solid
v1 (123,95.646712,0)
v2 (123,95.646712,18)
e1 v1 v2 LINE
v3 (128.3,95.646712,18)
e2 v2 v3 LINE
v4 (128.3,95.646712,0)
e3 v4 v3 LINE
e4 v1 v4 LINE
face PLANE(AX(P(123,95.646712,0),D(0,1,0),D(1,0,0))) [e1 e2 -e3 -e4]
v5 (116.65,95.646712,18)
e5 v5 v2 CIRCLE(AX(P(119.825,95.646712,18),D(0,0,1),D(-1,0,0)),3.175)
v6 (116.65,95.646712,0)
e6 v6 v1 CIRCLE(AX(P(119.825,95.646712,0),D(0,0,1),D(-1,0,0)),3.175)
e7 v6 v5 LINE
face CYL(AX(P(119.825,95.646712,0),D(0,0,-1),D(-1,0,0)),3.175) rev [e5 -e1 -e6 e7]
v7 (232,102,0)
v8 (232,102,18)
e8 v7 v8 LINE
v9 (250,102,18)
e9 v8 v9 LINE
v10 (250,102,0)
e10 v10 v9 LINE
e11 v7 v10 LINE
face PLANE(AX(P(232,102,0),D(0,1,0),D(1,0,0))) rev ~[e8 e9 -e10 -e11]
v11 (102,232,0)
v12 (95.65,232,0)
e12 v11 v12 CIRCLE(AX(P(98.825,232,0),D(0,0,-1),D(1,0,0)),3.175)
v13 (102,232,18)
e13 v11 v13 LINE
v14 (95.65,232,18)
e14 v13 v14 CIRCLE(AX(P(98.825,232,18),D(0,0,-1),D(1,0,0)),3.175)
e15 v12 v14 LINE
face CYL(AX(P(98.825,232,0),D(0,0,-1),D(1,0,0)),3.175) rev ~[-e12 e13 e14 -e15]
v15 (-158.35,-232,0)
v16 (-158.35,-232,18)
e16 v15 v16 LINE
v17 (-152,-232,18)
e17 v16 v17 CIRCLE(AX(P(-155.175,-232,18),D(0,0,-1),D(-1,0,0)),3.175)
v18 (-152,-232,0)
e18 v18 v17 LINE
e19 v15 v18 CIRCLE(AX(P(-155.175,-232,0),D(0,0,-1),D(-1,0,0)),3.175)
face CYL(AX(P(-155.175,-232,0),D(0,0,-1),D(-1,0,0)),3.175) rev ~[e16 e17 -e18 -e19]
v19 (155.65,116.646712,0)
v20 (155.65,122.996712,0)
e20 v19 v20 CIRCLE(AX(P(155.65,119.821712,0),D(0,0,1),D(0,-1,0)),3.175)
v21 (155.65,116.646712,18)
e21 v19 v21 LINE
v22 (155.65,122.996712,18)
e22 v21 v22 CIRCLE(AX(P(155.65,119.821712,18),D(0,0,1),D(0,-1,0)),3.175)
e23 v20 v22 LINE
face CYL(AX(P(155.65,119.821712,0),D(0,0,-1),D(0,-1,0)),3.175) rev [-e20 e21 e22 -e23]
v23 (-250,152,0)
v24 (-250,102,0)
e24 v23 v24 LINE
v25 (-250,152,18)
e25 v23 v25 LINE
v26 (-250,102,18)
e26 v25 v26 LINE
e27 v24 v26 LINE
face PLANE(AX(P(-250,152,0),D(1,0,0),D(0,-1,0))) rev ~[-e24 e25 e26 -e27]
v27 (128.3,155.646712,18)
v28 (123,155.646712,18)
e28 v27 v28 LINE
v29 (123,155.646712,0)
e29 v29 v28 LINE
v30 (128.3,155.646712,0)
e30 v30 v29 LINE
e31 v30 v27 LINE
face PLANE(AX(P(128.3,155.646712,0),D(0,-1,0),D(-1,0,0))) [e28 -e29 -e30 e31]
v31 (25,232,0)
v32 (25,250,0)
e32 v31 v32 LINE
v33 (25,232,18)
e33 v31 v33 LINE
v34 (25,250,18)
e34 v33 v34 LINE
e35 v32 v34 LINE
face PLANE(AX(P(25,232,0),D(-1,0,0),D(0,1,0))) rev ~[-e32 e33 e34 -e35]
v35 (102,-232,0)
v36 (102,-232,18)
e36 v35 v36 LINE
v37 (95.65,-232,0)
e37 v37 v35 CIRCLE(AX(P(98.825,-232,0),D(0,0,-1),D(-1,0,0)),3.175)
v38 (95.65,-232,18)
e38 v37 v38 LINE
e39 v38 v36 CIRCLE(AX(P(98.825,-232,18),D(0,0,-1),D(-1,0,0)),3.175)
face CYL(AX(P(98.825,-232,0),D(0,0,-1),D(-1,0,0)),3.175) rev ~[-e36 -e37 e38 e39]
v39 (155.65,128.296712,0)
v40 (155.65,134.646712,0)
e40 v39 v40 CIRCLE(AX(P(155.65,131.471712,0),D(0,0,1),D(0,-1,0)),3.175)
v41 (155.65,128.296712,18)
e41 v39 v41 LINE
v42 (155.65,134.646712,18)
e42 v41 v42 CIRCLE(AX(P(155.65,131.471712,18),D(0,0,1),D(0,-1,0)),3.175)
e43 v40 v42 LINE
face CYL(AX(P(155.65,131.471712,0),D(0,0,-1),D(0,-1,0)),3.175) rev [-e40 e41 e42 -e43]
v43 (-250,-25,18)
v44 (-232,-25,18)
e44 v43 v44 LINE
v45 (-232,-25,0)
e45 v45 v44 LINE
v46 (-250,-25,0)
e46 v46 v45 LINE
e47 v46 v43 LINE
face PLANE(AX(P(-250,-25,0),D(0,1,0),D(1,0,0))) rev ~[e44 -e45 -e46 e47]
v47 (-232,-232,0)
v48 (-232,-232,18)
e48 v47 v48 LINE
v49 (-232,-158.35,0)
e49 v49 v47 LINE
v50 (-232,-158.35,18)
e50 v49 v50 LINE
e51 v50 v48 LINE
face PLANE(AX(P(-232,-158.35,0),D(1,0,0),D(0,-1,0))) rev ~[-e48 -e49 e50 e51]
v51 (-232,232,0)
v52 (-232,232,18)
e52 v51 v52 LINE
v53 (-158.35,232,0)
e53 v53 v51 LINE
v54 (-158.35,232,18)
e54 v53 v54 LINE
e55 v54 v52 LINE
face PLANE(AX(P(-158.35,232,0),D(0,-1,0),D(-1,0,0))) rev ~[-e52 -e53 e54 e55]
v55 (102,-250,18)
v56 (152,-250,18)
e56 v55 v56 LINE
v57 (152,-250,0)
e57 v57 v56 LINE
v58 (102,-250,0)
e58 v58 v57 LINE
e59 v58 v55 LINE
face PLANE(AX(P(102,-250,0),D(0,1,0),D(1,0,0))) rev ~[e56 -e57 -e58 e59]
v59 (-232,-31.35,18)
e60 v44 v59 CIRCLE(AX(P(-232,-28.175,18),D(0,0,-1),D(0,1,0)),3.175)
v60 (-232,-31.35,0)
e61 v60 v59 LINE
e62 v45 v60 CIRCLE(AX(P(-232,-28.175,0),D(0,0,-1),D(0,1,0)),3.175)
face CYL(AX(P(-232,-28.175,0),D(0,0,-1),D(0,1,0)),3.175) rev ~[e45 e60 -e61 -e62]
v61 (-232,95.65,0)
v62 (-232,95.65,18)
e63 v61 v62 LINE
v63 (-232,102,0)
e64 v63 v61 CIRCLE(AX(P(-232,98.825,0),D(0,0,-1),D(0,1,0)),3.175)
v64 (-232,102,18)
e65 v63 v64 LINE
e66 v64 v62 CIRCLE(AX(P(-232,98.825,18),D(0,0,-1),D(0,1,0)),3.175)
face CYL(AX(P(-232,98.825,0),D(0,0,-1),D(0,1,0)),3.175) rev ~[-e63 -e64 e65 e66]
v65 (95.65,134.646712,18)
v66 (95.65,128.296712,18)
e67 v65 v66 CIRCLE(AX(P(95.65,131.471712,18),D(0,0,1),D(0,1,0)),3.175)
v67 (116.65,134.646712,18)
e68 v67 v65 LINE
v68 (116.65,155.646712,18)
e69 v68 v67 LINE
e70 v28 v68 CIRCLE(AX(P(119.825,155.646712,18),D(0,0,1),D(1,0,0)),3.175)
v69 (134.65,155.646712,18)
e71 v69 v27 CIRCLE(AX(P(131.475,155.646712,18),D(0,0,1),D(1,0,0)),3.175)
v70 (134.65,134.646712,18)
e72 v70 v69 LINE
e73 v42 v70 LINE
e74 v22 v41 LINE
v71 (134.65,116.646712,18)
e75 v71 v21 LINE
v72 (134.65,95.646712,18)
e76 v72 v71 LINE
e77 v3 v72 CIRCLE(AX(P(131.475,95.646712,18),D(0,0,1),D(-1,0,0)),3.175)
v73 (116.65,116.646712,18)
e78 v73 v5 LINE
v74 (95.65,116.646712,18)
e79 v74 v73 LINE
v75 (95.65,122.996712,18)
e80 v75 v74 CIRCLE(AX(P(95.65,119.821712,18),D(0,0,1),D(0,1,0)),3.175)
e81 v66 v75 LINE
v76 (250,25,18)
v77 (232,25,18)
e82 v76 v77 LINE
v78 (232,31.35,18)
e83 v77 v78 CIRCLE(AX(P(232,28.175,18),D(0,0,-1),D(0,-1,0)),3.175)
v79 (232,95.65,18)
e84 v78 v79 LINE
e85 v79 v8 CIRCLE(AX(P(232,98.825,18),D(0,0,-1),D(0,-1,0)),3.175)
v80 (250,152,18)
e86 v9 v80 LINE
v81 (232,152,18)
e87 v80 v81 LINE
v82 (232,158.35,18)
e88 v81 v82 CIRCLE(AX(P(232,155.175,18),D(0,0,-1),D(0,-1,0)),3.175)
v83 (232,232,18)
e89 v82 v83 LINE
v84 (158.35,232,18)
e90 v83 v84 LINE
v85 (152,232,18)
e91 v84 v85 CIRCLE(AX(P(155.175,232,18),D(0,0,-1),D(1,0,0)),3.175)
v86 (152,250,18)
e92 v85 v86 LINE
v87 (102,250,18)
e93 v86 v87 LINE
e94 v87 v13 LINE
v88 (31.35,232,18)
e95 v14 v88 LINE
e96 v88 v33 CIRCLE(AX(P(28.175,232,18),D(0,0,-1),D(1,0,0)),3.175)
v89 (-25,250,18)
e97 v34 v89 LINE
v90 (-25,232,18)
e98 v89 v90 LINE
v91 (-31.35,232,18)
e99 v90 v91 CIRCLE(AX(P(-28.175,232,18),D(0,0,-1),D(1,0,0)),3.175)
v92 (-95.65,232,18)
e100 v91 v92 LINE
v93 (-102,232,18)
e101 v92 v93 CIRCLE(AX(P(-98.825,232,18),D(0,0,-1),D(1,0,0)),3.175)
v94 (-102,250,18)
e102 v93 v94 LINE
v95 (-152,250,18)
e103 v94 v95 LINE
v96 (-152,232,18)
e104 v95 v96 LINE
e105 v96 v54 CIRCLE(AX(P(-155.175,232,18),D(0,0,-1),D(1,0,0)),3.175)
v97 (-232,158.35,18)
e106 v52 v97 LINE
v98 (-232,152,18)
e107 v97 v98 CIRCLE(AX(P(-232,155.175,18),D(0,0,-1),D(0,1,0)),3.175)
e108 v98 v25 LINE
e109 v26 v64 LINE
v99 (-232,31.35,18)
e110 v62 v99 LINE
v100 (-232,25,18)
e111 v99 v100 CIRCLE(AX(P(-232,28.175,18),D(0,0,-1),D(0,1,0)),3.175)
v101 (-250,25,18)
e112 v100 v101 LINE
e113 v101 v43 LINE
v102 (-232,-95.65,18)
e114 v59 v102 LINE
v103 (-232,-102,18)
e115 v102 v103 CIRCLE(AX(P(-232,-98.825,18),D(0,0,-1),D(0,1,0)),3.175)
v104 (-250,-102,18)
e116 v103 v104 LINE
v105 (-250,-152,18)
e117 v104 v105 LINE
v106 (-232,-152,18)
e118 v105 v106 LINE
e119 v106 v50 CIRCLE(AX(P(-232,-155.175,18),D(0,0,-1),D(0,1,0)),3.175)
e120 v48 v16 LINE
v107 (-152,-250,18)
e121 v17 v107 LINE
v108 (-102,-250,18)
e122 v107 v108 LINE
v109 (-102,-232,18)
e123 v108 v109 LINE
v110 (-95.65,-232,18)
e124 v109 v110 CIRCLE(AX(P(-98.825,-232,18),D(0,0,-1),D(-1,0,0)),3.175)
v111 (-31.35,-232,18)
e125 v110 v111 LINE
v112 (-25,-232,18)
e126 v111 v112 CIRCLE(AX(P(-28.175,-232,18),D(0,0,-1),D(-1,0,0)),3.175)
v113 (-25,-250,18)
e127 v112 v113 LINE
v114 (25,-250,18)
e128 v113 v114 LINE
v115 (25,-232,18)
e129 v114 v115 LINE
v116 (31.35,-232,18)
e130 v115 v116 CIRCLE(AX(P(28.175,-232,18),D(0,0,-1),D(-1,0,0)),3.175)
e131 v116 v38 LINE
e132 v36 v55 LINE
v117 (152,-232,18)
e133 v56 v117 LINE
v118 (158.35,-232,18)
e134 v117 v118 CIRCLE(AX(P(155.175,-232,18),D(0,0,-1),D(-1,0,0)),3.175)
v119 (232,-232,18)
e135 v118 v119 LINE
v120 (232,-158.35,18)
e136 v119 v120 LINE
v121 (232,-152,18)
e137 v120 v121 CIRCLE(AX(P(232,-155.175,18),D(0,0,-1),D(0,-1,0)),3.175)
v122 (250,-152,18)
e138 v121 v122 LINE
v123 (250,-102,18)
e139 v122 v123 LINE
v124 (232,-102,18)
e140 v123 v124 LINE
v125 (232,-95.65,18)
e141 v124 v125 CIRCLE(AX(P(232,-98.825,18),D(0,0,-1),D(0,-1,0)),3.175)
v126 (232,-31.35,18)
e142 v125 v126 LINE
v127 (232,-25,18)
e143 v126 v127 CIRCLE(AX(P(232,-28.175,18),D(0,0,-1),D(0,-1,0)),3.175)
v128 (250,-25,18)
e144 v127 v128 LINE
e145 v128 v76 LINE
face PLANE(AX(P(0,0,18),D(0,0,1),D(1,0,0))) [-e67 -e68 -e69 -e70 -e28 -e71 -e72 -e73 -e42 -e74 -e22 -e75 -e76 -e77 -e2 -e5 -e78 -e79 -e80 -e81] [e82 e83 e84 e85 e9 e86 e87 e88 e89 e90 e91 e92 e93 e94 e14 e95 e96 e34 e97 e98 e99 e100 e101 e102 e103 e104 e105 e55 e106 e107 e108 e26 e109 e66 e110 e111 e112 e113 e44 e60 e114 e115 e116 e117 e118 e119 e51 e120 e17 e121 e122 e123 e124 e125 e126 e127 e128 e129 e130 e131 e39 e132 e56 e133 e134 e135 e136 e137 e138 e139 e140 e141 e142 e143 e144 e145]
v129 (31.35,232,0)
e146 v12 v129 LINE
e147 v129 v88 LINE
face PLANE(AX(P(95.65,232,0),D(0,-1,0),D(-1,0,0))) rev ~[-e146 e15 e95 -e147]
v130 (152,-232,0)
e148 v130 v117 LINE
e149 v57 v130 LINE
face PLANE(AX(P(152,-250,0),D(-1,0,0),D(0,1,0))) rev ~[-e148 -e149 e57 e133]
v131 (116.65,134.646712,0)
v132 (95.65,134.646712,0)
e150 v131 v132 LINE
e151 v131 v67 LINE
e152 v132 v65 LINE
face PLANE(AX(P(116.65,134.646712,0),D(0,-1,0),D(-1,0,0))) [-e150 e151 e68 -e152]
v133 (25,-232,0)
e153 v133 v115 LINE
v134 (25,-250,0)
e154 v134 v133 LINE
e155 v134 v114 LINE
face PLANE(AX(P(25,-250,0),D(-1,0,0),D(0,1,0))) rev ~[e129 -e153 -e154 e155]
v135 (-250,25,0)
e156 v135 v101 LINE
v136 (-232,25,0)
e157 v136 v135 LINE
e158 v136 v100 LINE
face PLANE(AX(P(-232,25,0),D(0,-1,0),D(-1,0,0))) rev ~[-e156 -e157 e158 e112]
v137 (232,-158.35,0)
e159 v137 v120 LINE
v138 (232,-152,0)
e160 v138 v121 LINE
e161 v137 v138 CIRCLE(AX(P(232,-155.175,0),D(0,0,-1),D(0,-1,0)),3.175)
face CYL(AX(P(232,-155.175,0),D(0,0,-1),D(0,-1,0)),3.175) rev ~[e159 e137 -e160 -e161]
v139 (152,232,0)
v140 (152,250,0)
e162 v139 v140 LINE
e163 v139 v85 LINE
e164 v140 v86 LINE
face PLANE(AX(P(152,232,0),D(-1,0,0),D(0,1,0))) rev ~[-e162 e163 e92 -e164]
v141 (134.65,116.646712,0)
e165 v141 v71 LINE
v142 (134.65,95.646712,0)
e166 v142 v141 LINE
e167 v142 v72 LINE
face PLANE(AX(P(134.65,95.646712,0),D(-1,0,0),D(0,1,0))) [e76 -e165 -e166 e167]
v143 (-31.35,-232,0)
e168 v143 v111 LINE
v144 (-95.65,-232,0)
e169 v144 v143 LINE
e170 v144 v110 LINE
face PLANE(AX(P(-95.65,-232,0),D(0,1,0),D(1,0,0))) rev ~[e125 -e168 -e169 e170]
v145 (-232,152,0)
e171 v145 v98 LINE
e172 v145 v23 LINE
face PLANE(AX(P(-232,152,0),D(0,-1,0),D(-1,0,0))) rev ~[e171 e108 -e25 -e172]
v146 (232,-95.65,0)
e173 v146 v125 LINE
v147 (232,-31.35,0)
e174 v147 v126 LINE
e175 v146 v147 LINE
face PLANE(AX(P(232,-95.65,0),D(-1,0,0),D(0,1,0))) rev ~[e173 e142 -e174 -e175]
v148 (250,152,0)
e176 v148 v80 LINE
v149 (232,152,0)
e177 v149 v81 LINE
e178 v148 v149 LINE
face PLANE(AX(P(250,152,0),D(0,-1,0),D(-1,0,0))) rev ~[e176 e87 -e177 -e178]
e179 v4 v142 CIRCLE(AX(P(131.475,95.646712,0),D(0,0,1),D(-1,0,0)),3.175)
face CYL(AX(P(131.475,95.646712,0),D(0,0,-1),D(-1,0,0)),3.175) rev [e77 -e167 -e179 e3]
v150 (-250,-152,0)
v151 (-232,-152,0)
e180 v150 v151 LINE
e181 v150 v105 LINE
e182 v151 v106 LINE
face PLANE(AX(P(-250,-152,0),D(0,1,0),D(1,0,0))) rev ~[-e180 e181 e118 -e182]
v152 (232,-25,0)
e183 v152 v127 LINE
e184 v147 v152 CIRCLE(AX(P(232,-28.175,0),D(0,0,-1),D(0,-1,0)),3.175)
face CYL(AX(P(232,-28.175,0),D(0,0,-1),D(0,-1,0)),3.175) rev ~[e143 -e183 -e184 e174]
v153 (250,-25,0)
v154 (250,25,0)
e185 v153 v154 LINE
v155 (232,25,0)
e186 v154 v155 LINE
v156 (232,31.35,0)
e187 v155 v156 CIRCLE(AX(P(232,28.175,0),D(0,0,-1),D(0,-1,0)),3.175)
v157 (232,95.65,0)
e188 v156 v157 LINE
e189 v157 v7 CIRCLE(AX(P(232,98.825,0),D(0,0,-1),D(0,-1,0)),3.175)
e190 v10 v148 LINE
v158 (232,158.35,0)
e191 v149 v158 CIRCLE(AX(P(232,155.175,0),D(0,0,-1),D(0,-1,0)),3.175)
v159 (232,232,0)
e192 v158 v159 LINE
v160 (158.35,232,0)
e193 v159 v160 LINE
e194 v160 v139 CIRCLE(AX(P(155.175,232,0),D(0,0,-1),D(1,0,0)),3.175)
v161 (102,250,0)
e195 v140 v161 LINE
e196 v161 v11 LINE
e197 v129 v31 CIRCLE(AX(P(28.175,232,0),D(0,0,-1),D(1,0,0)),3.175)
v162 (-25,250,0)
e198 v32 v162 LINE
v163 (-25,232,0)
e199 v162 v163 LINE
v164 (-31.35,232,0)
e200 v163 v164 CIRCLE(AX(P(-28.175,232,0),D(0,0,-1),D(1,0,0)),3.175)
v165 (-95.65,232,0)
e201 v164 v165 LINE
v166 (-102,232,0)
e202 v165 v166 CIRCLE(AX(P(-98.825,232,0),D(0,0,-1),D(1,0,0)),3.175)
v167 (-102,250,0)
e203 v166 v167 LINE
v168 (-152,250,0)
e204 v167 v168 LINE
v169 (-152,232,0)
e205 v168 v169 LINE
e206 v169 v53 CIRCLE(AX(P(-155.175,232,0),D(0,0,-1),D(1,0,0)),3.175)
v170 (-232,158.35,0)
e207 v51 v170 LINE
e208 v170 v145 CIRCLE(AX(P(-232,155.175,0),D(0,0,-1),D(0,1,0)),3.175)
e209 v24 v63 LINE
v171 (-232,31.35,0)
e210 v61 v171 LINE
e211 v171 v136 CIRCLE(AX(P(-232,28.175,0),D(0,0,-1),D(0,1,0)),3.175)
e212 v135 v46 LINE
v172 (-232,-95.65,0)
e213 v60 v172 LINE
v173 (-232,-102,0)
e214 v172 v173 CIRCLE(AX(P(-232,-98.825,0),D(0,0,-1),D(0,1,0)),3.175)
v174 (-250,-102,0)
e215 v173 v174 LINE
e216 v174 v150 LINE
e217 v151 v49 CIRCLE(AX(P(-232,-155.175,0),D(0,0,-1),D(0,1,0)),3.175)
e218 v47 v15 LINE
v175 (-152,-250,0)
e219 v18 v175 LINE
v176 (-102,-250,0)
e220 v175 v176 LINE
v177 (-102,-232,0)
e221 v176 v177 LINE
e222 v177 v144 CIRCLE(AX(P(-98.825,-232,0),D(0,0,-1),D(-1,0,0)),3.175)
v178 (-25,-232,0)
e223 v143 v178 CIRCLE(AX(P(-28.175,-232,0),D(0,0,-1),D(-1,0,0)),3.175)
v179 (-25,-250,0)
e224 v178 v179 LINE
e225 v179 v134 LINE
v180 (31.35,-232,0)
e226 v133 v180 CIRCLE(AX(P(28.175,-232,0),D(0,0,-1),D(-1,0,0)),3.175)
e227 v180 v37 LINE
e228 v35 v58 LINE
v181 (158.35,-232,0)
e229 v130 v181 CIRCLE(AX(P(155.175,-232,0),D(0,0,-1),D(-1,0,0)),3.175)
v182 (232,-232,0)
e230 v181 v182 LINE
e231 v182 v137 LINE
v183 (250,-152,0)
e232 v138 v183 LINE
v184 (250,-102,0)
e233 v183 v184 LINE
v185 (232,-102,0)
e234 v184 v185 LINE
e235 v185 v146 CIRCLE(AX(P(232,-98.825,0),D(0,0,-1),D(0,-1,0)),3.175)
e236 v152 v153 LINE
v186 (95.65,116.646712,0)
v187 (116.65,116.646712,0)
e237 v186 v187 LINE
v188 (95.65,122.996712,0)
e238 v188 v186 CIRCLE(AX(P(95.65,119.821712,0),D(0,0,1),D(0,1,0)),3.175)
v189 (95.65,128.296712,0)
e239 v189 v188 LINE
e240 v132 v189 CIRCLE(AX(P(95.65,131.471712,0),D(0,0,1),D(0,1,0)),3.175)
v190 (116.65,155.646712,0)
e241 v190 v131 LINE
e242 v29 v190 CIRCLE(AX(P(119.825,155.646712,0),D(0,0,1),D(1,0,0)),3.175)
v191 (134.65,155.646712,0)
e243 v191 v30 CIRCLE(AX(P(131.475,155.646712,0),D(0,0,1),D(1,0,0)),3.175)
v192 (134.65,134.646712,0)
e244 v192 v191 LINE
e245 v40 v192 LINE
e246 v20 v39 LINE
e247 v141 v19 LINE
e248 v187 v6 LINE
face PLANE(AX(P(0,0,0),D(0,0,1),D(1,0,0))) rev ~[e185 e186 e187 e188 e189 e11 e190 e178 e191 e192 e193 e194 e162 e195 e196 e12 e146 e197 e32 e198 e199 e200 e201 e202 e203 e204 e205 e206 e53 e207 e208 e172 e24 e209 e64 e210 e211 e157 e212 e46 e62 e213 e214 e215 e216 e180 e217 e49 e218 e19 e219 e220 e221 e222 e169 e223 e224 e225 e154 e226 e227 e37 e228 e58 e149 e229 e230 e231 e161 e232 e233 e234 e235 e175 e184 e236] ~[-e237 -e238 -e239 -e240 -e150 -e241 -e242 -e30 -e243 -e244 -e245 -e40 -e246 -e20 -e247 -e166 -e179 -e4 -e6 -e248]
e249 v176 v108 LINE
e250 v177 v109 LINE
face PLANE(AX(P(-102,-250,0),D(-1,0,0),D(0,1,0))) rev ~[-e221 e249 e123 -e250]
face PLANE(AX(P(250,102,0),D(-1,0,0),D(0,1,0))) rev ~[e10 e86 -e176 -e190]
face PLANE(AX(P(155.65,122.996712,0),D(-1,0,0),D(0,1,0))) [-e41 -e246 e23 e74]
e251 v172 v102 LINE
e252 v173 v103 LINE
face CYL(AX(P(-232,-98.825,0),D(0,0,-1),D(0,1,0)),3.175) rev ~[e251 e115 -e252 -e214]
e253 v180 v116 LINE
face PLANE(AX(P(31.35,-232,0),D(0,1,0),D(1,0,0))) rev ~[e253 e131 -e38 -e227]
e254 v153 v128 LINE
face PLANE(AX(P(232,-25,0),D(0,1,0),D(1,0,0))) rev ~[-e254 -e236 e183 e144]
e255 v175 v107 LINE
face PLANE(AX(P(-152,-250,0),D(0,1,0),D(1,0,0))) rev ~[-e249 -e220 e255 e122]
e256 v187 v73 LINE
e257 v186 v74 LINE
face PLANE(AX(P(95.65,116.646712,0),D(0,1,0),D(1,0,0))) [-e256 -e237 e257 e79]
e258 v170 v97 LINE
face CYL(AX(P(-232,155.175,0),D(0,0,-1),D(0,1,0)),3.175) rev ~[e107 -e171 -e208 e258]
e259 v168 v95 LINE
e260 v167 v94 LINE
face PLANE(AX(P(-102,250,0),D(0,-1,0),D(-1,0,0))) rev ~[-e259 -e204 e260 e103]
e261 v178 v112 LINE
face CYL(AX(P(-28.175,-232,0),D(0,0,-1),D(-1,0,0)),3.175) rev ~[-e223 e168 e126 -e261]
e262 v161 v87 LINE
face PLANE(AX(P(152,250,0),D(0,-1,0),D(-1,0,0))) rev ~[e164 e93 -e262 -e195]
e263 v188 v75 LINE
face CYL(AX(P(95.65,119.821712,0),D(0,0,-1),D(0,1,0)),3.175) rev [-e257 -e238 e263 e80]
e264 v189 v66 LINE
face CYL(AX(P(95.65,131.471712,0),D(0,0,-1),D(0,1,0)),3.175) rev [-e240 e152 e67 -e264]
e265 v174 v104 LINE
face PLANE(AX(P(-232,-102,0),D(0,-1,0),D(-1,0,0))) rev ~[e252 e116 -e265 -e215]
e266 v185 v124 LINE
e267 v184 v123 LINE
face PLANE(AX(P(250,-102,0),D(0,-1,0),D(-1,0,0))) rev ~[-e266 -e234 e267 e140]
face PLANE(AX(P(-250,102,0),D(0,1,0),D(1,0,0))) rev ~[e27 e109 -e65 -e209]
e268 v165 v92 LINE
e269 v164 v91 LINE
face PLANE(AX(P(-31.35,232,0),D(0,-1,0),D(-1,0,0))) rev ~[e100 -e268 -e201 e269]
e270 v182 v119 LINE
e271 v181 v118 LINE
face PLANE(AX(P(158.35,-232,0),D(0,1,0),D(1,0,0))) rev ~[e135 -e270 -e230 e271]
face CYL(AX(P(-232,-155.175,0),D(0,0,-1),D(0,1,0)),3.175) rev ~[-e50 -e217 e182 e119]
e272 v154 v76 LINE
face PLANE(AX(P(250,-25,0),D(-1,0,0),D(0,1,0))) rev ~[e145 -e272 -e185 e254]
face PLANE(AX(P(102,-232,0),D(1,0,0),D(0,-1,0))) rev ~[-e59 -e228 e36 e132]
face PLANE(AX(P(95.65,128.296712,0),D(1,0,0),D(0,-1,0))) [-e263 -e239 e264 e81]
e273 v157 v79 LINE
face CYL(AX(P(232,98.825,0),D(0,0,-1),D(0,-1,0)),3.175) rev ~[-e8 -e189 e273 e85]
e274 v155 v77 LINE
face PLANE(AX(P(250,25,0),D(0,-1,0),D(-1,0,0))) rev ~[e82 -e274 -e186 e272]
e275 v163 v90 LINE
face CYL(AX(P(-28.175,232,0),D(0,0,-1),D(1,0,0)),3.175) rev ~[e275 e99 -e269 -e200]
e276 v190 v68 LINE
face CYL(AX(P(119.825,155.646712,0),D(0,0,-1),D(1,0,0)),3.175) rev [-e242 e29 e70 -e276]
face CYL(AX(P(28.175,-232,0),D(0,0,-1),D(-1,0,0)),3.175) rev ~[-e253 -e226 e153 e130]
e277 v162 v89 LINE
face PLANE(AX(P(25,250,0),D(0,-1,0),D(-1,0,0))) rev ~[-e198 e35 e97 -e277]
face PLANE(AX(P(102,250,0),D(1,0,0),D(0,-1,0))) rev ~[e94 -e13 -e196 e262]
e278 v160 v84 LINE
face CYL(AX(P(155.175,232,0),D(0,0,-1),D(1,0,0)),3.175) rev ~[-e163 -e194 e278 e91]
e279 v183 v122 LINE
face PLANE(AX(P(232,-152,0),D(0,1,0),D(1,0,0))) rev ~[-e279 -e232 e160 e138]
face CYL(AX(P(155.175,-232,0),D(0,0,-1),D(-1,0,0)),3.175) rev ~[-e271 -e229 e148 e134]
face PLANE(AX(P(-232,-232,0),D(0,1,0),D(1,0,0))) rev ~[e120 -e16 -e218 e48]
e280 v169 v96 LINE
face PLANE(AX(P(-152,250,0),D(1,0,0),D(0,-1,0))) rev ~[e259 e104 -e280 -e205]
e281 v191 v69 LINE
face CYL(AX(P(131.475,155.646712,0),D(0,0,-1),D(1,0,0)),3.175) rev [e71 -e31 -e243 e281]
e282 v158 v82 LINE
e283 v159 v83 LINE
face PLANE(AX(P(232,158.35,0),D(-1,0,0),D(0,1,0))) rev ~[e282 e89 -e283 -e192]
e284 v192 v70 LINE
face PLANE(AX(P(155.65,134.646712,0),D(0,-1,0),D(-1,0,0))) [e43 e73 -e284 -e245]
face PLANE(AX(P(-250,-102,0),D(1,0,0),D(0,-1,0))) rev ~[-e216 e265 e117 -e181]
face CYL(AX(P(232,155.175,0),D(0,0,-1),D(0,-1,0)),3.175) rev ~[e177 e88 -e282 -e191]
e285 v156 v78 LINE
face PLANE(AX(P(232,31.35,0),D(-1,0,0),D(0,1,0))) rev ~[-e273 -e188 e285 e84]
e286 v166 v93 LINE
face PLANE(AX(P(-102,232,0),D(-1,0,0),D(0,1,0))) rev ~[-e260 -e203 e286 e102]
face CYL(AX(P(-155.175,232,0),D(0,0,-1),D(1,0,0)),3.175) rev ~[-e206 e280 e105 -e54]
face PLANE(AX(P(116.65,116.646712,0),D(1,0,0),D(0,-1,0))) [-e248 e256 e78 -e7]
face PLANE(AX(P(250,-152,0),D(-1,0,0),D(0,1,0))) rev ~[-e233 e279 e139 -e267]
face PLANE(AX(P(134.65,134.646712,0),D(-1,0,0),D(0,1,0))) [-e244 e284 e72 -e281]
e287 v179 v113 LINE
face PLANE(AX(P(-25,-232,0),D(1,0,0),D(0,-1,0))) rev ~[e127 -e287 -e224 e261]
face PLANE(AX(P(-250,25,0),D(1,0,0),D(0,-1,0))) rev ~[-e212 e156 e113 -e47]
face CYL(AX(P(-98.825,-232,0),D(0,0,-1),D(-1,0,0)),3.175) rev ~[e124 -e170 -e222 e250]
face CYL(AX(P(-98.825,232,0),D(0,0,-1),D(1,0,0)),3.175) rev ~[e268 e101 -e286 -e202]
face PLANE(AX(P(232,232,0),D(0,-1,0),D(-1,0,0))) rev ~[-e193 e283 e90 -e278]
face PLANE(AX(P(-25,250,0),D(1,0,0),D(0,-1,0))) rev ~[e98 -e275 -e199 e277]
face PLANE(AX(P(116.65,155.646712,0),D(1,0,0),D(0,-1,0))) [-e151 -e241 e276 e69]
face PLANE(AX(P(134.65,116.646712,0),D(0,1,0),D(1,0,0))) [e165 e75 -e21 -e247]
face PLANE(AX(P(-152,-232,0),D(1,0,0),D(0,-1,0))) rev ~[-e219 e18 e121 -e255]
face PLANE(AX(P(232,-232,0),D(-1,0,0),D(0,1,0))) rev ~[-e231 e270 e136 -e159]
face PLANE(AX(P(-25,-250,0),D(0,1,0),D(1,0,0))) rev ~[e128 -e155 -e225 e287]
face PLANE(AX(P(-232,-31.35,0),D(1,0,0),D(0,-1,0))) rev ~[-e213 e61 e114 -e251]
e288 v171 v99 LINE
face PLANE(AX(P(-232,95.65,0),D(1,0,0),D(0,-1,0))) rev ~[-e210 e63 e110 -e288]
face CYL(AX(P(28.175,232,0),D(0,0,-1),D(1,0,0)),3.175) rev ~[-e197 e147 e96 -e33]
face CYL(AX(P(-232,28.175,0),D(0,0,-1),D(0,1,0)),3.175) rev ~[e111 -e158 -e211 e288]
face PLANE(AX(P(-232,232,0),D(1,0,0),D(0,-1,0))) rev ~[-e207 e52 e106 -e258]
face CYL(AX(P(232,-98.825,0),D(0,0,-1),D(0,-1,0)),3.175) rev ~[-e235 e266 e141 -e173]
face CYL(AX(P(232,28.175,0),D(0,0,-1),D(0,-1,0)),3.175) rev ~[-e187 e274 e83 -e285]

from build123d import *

# Parameters (mm, degrees)
ESTRUSIONE_ESTRUSIONE1_DEPTH = 18


with BuildPart() as part:
    # Schizzo1 → Estrusione-Estrusione1 (new body)
    with BuildSketch(Plane.XY):
        with BuildLine():
            Line((-152, 250), (-152, 232))
            ThreePointArc((-152, 232), (-155.175, 228.825), (-158.35, 232))
            Line((-158.35, 232), (-232, 232))
            Line((-232, 232), (-232, 158.35))
            ThreePointArc((-232, 158.35), (-228.825, 155.175), (-232, 152))
            Line((-232, 152), (-250, 152))
            Line((-250, 152), (-250, 102))
            Line((-250, 102), (-232, 102))
            ThreePointArc((-232, 102), (-228.825, 98.825), (-232, 95.65))
            Line((-232, 95.65), (-232, 31.35))
            ThreePointArc((-232, 31.35), (-228.825, 28.175), (-232, 25))
            Line((-232, 25), (-250, 25))
            Line((-250, 25), (-250, -25))
            Line((-250, -25), (-232, -25))
            ThreePointArc((-232, -25), (-228.825, -28.175), (-232, -31.35))
            Line((-232, -31.35), (-232, -95.65))
            ThreePointArc((-232, -95.65), (-228.825, -98.825), (-232, -102))
            Line((-232, -102), (-250, -102))
            Line((-250, -102), (-250, -152))
            Line((-250, -152), (-232, -152))
            ThreePointArc((-232, -152), (-228.825, -155.175), (-232, -158.35))
            Line((-232, -158.35), (-232, -232))
            Line((-232, -232), (-158.35, -232))
            ThreePointArc((-158.35, -232), (-155.175, -228.825), (-152, -232))
            Line((-152, -232), (-152, -250))
            Line((-152, -250), (-102, -250))
            Line((-102, -250), (-102, -232))
            ThreePointArc((-102, -232), (-98.825, -228.825), (-95.65, -232))
            Line((-95.65, -232), (-31.35, -232))
            ThreePointArc((-31.35, -232), (-28.175, -228.825), (-25, -232))
            Line((-25, -232), (-25, -250))
            Line((-25, -250), (25, -250))
            Line((25, -250), (25, -232))
            ThreePointArc((25, -232), (28.175, -228.825), (31.35, -232))
            Line((31.35, -232), (95.65, -232))
            ThreePointArc((95.65, -232), (98.825, -228.825), (102, -232))
            Line((102, -232), (102, -250))
            Line((102, -250), (152, -250))
            Line((152, -250), (152, -232))
            ThreePointArc((152, -232), (155.175, -228.825), (158.35, -232))
            Line((158.35, -232), (232, -232))
            Line((232, -232), (232, -158.35))
            ThreePointArc((232, -158.35), (228.825, -155.175), (232, -152))
            Line((232, -152), (250, -152))
            Line((250, -152), (250, -102))
            Line((250, -102), (232, -102))
            ThreePointArc((232, -102), (228.825, -98.825), (232, -95.65))
            Line((232, -95.65), (232, -31.35))
            ThreePointArc((232, -31.35), (228.825, -28.175), (232, -25))
            Line((232, -25), (250, -25))
            Line((250, -25), (250, 25))
            Line((250, 25), (232, 25))
            ThreePointArc((232, 25), (228.825, 28.175), (232, 31.35))
            Line((232, 31.35), (232, 95.65))
            ThreePointArc((232, 95.65), (228.825, 98.825), (232, 102))
            Line((232, 102), (250, 102))
            Line((250, 102), (250, 152))
            Line((250, 152), (232, 152))
            ThreePointArc((232, 152), (228.825, 155.175), (232, 158.35))
            Line((232, 158.35), (232, 232))
            Line((232, 232), (158.35, 232))
            ThreePointArc((158.35, 232), (155.175, 228.825), (152, 232))
            Line((152, 232), (152, 250))
            Line((152, 250), (102, 250))
            Line((102, 250), (102, 232))
            ThreePointArc((102, 232), (98.825, 228.825), (95.65, 232))
            Line((95.65, 232), (31.35, 232))
            ThreePointArc((31.35, 232), (28.175, 228.825), (25, 232))
            Line((25, 232), (25, 250))
            Line((25, 250), (-25, 250))
            Line((-25, 250), (-25, 232))
            ThreePointArc((-25, 232), (-28.175, 228.825), (-31.35, 232))
            Line((-31.35, 232), (-95.65, 232))
            ThreePointArc((-95.65, 232), (-98.825, 228.825), (-102, 232))
            Line((-102, 232), (-102, 250))
            Line((-102, 250), (-152, 250))
        make_face()
        with BuildLine():
            Line((134.65, 95.646711769), (134.65, 116.646711769))
            Line((134.65, 116.646711769), (155.65, 116.646711769))
            ThreePointArc((155.65, 116.646711769), (158.825, 119.821711769), (155.65, 122.996711769))
            Line((155.65, 122.996711769), (155.65, 128.296711769))
            ThreePointArc((155.65, 128.296711769), (158.825, 131.471711769), (155.65, 134.646711769))
            Line((155.65, 134.646711769), (134.65, 134.646711769))
            Line((134.65, 134.646711769), (134.65, 155.646711769))
            ThreePointArc((134.65, 155.646711769), (131.475, 158.821711769), (128.3, 155.646711769))
            Line((128.3, 155.646711769), (123, 155.646711769))
            ThreePointArc((123, 155.646711769), (119.825, 158.821711769), (116.65, 155.646711769))
            Line((116.65, 155.646711769), (116.65, 134.646711769))
            Line((116.65, 134.646711769), (95.65, 134.646711769))
            ThreePointArc((95.65, 134.646711769), (92.475, 131.471711769), (95.65, 128.296711769))
            Line((95.65, 128.296711769), (95.65, 122.996711769))
            ThreePointArc((95.65, 122.996711769), (92.475, 119.821711769), (95.65, 116.646711769))
            Line((95.65, 116.646711769), (116.65, 116.646711769))
            Line((116.65, 116.646711769), (116.65, 95.646711769))
            ThreePointArc((116.65, 95.646711769), (119.825, 92.471711769), (123, 95.646711769))
            Line((123, 95.646711769), (128.3, 95.646711769))
            ThreePointArc((128.3, 95.646711769), (131.475, 92.471711769), (134.65, 95.646711769))
        make_face(mode=Mode.SUBTRACT)
    extrude(amount=ESTRUSIONE_ESTRUSIONE1_DEPTH)


solid = part.part
